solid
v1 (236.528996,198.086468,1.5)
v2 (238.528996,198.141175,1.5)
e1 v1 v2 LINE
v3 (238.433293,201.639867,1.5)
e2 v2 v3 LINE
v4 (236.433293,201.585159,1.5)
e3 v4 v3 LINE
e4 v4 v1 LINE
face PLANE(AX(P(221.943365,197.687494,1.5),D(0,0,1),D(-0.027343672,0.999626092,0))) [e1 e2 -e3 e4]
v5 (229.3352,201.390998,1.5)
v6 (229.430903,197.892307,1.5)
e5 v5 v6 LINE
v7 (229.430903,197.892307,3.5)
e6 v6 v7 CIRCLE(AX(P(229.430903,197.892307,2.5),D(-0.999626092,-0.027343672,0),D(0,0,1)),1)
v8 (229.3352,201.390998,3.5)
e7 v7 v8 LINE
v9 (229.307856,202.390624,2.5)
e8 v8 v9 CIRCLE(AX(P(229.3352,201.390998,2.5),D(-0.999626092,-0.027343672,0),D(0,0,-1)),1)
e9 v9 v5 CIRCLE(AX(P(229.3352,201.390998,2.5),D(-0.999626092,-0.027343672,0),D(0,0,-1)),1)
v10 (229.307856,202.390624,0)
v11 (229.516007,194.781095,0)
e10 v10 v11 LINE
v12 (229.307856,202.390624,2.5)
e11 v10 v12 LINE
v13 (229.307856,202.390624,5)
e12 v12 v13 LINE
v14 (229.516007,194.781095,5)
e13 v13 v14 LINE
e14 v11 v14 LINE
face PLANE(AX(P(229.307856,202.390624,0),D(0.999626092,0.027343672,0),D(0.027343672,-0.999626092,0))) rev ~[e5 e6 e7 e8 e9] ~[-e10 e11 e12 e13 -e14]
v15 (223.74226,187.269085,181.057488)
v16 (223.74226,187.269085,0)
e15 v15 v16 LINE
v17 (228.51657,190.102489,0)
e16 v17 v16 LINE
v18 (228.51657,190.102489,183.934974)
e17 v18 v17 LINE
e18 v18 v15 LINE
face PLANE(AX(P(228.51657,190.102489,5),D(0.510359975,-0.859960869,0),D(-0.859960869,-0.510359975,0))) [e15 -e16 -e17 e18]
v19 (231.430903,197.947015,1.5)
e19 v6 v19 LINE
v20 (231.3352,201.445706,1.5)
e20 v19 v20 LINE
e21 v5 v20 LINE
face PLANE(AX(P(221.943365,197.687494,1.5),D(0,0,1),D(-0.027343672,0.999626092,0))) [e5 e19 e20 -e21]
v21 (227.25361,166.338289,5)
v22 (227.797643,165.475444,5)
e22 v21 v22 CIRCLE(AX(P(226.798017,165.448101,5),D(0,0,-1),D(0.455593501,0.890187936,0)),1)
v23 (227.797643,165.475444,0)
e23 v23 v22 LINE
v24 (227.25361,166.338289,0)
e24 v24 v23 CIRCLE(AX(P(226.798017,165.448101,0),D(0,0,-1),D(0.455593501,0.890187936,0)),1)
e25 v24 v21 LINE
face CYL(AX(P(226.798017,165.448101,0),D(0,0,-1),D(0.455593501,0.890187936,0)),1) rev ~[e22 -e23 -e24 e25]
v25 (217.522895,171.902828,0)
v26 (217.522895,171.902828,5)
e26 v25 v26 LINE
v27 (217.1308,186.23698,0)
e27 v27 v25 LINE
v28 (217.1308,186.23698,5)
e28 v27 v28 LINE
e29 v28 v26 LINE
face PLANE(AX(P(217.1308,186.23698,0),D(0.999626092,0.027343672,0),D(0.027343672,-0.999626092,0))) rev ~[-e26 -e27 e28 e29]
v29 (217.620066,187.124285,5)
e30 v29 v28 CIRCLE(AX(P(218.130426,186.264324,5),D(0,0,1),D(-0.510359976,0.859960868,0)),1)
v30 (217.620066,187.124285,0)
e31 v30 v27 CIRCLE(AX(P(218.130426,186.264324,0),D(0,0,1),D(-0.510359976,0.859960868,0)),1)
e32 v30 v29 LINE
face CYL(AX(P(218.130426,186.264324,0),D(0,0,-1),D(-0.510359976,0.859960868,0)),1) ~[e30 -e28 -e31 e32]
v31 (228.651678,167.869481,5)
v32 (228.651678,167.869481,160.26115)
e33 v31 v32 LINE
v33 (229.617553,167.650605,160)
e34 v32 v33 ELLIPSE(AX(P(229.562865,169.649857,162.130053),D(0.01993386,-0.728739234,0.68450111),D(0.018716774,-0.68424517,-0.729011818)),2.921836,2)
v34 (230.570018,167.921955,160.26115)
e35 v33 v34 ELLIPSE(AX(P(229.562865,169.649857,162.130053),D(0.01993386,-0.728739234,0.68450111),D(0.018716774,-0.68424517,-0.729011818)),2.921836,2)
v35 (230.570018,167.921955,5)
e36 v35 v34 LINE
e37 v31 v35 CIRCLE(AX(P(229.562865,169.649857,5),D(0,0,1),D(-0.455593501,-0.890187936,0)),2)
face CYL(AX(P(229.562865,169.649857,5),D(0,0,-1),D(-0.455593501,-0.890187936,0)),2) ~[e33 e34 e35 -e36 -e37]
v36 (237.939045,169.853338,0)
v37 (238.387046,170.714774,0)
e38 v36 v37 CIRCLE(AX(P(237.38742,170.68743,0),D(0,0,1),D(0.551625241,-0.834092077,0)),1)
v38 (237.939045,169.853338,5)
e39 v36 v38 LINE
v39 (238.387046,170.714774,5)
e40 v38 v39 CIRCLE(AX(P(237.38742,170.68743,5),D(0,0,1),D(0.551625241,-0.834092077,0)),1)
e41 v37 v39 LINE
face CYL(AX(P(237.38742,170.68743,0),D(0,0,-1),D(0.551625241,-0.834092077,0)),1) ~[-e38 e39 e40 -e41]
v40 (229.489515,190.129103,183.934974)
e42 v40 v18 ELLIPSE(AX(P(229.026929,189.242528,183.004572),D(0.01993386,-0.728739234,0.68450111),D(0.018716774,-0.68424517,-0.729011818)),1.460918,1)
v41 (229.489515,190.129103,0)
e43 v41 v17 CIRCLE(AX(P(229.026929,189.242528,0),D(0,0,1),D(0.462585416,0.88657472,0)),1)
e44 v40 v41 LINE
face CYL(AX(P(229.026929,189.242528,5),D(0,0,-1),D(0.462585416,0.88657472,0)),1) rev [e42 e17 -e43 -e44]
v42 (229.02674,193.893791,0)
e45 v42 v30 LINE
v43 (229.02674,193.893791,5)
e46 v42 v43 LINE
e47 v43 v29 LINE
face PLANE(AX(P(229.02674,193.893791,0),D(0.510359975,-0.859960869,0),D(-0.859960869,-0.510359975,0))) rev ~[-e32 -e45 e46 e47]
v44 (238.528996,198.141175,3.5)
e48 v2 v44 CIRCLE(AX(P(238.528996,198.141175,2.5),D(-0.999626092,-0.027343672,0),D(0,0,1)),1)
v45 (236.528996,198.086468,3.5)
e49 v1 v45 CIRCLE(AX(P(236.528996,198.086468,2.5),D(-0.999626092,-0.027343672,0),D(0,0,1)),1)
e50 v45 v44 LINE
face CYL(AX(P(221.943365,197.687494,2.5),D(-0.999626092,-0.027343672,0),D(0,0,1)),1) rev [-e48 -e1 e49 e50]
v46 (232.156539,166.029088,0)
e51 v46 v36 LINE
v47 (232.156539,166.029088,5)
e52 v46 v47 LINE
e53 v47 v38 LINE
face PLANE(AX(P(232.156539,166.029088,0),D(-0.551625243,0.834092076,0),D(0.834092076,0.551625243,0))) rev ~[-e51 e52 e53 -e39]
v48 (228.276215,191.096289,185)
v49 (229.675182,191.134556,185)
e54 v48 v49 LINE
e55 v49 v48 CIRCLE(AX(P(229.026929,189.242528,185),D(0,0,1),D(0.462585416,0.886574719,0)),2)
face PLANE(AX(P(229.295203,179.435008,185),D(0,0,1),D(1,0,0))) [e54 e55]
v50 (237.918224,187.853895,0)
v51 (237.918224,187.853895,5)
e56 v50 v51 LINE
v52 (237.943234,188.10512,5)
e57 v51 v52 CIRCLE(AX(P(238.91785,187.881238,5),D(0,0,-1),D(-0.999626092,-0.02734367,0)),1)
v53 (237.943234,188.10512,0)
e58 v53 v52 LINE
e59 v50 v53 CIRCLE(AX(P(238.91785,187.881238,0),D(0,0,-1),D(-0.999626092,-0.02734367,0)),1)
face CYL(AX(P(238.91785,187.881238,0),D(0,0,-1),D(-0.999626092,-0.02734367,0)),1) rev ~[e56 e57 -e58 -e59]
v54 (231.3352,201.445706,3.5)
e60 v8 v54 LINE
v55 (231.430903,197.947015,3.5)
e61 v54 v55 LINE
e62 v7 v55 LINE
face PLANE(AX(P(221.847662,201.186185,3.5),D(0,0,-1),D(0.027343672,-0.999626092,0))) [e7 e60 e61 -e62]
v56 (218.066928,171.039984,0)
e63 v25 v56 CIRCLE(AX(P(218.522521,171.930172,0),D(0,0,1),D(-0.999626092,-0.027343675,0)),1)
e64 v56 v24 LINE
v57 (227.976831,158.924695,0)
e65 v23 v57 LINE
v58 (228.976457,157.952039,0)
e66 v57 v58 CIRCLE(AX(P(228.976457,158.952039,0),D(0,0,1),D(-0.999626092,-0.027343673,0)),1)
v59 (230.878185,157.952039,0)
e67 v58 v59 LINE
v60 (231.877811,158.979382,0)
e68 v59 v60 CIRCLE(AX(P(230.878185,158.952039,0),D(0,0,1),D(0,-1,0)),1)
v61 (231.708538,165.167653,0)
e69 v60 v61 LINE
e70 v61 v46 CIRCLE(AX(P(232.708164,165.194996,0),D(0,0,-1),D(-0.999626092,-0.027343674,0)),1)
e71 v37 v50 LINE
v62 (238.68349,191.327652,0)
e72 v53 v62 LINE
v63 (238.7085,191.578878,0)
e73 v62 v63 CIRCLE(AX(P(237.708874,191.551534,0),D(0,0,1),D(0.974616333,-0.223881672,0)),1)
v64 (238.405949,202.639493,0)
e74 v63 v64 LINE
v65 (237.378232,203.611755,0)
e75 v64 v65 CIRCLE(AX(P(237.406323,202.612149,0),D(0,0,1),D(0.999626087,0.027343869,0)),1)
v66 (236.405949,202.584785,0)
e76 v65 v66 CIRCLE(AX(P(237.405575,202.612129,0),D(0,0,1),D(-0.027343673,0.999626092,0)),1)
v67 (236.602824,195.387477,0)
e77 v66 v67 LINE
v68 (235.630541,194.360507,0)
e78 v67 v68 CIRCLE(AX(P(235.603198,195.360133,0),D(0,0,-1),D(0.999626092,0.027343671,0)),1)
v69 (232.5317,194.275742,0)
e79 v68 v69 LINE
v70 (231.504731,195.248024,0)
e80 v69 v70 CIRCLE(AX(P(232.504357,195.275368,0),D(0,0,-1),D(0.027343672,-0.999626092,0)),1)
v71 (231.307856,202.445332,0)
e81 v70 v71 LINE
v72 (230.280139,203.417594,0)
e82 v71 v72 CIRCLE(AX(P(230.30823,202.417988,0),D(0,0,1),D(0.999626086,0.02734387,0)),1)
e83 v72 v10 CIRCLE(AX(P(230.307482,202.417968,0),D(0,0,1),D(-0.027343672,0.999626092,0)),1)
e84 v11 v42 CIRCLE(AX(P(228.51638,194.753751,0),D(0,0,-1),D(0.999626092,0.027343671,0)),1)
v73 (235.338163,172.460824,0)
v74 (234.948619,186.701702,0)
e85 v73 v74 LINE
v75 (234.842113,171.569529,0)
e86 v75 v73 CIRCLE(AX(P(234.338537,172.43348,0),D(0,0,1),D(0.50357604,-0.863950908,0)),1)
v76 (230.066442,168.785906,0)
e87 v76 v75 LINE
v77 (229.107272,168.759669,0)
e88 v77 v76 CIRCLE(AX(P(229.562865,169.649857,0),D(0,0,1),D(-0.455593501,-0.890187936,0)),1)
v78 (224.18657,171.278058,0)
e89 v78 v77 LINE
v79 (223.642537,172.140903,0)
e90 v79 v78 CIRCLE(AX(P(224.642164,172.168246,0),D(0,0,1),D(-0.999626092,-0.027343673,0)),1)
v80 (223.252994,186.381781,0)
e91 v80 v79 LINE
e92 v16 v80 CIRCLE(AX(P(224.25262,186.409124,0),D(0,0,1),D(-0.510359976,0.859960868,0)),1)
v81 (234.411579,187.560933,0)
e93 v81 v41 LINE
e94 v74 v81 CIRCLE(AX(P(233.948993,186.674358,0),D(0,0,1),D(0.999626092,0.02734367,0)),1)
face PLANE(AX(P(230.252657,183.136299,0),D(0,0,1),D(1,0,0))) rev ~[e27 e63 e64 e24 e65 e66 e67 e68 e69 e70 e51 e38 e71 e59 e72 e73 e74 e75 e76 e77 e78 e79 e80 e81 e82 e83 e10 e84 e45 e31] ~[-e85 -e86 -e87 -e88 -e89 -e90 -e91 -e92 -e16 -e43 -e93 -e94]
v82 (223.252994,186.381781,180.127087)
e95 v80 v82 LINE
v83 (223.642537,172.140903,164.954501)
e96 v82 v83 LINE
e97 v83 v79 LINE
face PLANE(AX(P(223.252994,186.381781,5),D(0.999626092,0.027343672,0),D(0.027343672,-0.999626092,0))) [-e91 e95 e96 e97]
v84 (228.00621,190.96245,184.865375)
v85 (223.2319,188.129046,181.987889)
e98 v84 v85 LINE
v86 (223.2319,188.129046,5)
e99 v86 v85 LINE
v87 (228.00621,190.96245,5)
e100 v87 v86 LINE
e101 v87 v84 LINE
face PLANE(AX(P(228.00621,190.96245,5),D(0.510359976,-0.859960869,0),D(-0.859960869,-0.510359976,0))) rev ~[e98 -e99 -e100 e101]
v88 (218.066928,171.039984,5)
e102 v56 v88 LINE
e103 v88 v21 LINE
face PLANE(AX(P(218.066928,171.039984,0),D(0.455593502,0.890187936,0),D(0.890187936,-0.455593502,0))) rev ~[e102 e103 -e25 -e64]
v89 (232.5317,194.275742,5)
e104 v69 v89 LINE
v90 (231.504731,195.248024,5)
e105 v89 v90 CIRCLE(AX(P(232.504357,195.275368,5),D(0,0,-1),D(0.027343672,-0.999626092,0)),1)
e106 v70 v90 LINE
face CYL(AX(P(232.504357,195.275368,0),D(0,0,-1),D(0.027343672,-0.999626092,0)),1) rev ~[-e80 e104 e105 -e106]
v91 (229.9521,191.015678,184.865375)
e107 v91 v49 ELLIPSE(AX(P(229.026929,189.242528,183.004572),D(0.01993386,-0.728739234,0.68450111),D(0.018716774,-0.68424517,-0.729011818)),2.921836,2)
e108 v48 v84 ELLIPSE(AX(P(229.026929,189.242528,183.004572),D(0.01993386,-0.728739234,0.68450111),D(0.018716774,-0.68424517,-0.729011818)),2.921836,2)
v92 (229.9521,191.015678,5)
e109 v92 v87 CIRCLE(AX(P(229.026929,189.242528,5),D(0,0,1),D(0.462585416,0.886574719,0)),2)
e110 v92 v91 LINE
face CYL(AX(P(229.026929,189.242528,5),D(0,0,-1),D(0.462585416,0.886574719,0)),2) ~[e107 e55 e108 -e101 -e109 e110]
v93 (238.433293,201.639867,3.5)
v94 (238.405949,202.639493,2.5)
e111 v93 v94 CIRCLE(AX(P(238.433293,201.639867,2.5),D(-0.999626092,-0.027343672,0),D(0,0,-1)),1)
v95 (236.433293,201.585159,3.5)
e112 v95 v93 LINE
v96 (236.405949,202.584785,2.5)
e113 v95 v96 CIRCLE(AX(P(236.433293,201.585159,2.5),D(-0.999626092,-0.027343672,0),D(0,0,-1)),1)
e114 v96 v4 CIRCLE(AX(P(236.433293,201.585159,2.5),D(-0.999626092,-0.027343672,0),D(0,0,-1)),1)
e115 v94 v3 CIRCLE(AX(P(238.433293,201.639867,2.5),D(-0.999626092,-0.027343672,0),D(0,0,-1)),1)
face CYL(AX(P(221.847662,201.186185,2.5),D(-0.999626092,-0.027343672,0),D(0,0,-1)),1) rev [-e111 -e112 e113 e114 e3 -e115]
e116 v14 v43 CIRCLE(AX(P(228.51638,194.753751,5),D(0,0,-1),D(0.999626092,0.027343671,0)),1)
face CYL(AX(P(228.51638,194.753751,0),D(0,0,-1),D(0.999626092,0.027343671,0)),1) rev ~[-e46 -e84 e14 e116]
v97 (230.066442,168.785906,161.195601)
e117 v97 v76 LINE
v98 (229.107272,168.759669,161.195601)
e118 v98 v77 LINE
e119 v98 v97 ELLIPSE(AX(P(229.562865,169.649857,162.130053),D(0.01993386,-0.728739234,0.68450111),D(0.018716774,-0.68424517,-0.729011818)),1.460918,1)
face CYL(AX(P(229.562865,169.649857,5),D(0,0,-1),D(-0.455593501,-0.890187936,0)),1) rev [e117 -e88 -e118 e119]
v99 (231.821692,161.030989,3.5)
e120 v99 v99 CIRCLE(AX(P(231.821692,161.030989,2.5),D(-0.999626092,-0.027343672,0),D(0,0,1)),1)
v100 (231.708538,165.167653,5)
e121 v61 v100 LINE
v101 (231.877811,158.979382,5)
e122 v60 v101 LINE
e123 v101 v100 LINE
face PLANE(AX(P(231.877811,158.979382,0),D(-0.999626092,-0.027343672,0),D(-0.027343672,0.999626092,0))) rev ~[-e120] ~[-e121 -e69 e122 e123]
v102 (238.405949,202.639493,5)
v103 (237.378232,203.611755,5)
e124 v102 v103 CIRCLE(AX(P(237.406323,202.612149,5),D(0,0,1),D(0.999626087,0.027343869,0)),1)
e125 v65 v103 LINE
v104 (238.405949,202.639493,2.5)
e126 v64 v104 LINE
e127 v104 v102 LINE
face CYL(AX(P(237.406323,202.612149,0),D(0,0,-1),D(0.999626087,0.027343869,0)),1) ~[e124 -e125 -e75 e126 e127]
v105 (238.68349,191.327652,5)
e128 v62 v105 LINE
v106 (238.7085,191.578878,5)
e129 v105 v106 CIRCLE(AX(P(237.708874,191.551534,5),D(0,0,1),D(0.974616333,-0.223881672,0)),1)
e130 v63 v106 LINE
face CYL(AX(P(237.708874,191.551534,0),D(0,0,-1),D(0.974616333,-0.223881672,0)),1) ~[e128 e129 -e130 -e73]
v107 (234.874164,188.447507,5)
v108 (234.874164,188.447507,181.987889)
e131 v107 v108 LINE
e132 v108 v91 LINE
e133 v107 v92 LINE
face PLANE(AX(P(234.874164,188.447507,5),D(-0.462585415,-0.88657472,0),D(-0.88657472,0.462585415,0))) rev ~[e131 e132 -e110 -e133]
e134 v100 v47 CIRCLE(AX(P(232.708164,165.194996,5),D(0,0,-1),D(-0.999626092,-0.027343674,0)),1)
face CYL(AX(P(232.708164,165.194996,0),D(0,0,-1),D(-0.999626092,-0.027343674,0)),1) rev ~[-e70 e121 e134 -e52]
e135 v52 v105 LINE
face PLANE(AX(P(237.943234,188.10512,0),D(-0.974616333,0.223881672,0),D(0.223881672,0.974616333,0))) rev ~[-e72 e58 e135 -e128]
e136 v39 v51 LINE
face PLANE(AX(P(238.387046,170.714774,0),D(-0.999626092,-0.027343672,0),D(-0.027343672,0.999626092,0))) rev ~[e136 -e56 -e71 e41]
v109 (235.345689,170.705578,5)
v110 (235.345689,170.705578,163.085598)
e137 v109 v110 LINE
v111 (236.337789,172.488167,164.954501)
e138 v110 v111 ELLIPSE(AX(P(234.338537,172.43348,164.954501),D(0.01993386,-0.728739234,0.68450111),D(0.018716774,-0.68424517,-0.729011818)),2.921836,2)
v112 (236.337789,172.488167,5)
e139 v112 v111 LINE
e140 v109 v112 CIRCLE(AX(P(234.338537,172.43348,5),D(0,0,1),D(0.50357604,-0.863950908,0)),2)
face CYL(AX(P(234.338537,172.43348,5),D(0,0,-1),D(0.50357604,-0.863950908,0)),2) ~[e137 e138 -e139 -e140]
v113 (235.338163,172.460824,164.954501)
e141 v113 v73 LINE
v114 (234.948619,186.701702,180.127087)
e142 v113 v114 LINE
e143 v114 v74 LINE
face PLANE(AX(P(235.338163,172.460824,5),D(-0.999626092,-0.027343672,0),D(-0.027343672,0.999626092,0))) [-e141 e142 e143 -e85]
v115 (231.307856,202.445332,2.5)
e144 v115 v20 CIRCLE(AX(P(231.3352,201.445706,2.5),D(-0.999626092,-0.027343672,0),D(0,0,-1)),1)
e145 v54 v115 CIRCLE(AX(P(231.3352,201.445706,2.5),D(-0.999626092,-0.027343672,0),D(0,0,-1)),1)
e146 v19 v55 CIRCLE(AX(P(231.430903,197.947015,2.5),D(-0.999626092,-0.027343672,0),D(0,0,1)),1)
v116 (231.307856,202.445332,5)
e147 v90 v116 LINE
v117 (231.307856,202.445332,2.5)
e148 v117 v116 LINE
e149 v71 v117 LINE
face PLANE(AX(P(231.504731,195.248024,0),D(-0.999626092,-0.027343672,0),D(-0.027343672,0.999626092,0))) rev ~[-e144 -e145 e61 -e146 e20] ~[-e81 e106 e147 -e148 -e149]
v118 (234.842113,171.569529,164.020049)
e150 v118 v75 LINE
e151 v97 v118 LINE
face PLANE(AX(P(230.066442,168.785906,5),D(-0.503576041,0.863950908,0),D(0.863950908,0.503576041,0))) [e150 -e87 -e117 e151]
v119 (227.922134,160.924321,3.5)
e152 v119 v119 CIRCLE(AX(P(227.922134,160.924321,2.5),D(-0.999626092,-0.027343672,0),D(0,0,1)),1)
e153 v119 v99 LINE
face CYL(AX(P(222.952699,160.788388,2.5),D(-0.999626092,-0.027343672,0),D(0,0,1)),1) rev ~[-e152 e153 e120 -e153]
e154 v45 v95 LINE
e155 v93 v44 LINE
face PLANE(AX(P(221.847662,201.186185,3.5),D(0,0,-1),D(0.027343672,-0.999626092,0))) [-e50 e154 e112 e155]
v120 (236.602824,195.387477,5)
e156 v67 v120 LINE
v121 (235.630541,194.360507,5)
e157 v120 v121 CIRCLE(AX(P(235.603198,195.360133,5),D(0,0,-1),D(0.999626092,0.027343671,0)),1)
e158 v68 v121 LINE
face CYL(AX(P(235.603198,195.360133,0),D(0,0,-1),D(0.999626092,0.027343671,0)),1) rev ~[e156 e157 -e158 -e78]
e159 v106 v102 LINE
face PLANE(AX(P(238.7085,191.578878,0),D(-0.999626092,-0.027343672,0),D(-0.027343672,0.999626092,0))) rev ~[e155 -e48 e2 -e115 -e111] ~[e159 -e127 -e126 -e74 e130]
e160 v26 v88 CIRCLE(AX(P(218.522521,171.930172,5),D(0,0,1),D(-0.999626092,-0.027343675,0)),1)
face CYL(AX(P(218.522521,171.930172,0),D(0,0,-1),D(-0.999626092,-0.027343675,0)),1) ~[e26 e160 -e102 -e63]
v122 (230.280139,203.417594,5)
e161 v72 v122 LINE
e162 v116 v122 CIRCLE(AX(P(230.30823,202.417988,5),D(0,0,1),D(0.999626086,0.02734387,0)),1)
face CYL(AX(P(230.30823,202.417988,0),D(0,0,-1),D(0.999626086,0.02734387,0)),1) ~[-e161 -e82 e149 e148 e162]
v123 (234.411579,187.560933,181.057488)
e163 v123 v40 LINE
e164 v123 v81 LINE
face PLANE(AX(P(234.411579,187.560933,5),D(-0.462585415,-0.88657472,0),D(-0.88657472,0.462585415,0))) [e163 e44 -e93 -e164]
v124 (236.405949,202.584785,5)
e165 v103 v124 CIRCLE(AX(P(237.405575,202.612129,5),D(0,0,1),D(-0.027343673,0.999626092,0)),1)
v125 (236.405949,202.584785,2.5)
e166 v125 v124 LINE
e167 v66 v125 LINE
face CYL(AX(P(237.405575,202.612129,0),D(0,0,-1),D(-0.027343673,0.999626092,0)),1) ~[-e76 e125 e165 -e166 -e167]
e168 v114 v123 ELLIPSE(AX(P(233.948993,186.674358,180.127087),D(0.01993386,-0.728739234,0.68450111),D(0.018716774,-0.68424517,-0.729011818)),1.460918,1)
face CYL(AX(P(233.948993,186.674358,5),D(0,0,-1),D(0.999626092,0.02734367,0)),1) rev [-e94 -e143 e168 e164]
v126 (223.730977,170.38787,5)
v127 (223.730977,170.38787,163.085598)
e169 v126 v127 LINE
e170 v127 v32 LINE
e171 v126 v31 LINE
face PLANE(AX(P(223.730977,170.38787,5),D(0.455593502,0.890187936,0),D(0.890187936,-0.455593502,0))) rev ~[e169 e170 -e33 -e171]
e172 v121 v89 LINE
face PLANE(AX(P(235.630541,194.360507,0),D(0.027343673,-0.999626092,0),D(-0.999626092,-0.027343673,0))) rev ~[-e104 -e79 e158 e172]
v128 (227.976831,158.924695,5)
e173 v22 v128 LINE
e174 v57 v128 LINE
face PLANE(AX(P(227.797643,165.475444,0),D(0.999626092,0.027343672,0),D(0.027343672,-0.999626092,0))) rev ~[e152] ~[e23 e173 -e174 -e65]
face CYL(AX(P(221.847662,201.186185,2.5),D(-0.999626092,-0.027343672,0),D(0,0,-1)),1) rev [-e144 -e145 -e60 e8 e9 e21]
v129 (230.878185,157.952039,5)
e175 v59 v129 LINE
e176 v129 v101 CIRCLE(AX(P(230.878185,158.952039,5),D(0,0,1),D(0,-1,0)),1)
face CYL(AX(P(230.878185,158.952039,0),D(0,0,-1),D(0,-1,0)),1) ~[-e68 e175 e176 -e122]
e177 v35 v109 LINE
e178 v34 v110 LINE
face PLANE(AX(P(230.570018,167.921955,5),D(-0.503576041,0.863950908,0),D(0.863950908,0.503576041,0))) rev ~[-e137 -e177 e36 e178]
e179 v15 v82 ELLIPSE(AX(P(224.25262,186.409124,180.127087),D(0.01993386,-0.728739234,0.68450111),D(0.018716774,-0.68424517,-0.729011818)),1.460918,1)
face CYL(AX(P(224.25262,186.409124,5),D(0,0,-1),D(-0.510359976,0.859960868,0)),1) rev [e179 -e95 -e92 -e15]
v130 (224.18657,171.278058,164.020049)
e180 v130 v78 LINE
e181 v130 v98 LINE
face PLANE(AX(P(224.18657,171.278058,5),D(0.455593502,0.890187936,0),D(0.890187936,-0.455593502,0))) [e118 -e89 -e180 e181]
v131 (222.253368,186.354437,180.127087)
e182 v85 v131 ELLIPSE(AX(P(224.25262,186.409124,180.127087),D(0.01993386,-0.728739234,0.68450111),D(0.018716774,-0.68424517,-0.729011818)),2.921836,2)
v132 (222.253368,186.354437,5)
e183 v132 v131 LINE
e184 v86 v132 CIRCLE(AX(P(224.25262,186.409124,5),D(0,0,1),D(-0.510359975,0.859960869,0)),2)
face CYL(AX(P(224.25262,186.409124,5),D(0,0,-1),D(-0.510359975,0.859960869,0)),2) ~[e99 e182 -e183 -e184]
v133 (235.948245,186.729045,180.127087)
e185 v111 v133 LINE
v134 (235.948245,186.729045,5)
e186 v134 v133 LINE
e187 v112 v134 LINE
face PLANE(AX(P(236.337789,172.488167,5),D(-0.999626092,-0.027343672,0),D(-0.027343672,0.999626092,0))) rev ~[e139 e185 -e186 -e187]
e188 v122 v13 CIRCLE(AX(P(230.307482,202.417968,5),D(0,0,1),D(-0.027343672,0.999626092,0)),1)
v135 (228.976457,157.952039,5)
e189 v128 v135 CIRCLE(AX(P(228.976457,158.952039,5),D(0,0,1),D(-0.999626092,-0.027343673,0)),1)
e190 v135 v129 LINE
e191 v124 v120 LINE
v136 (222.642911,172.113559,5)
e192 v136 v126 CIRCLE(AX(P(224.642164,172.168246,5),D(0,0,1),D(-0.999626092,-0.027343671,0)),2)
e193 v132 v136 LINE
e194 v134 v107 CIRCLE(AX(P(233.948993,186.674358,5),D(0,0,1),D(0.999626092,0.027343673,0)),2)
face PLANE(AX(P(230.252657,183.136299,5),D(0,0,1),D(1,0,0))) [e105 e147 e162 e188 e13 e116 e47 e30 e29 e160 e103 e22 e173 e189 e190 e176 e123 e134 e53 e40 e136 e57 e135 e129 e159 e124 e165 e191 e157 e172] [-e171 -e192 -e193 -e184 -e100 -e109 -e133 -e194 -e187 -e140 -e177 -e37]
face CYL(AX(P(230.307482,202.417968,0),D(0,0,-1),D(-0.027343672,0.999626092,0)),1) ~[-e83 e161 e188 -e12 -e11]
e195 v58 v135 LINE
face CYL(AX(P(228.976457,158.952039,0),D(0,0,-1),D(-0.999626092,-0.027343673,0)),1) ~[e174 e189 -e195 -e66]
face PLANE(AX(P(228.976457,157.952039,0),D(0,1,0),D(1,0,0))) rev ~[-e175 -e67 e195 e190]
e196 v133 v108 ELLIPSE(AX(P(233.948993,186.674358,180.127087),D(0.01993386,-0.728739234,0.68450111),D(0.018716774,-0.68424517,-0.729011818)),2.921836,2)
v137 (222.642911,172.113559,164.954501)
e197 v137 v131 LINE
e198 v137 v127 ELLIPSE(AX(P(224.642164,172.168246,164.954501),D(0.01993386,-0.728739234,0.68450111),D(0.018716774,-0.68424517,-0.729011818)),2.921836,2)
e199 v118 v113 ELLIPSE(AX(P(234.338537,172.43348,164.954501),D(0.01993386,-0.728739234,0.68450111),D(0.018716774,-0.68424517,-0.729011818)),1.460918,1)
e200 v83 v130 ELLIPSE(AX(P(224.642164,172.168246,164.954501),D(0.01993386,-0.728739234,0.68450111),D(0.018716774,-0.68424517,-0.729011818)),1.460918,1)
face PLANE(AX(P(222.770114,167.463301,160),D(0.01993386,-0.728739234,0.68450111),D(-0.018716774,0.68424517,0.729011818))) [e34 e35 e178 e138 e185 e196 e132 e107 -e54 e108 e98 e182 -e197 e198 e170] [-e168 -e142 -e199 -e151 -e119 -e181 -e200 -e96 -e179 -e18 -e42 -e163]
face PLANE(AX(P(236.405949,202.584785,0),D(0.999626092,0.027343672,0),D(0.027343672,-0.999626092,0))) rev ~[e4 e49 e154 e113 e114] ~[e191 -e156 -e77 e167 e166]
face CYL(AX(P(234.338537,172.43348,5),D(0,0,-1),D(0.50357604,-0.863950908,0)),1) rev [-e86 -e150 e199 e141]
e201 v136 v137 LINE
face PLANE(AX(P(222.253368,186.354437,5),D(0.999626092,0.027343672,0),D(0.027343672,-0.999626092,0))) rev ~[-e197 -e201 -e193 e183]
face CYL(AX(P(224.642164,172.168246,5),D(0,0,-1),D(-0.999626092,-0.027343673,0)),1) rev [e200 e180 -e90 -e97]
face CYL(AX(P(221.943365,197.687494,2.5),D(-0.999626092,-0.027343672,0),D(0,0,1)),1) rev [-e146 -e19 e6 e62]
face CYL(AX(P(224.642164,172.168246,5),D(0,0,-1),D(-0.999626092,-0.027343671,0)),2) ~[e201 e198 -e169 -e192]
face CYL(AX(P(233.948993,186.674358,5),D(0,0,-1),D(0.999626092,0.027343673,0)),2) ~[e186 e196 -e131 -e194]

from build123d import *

# Parameters (mm, degrees)
BOSS_EXTRUDE1_DEPTH = 5
BOSS_EXTRUDE2_DEPTH = 180
SKETCH3_R           = 1
CUT_EXTRUDE1_DEPTH  = 180


with BuildPart() as part:
    # Sketch1 → Boss-Extrude1 (new body)
    with BuildSketch(Plane.XY):
        with BuildLine():
            Line((217.13080024, 186.236980413), (217.522895205, 171.902828405))
            ThreePointArc((217.522895205, 171.902828405), (217.676624689, 171.396825166), (218.066927795, 171.039984141))
            Line((218.066927795, 171.039984141), (227.253610039, 166.338288505))
            ThreePointArc((227.253610039, 166.338288505), (227.643913146, 165.981447481), (227.79764263, 165.475444242))
            Line((227.79764263, 165.475444242), (227.976831168, 158.924695096))
            ThreePointArc((227.976831168, 158.924695096), (228.279084932, 158.235329737), (228.97645726, 157.952038769))
            Line((228.97645726, 157.952038769), (230.8781853, 157.952038769))
            ThreePointArc((230.8781853, 157.952038769), (231.594894332, 158.254666441), (231.877811392, 158.979382441))
            Line((231.877811392, 158.979382441), (231.708538067, 165.167652598))
            ThreePointArc((231.708538067, 165.167652598), (231.820970232, 165.656392994), (232.156538916, 166.029088346))
            Line((232.156538916, 166.029088346), (237.939045309, 169.853338197))
            ThreePointArc((237.939045309, 169.853338197), (238.274613993, 170.226033549), (238.387046158, 170.714773945))
            Line((238.387046158, 170.714773945), (237.918224361, 187.853894574))
            ThreePointArc((237.918224361, 187.853894574), (237.922769134, 187.980299684), (237.94323412, 188.105119919))
            Line((237.94323412, 188.105119919), (238.683490474, 191.327652279))
            ThreePointArc((238.683490474, 191.327652279), (238.70395546, 191.452472514), (238.708500233, 191.578877624))
            Line((238.708500233, 191.578877624), (238.40594927, 202.639492732))
            ThreePointArc((238.40594927, 202.639492732), (238.093830671, 203.338326344), (237.37823169, 203.611754696))
            ThreePointArc((237.37823169, 203.611754696), (236.679398078, 203.299636096), (236.40594927, 202.584784932))
            Line((236.40594927, 202.584784932), (236.602823712, 195.38747707))
            ThreePointArc((236.602823712, 195.38747707), (236.329374904, 194.672625906), (235.630541293, 194.360507306))
            Line((235.630541293, 194.360507306), (232.531700408, 194.275741921))
            ThreePointArc((232.531700408, 194.275741921), (231.816849243, 194.549190729), (231.504730643, 195.248024341))
            Line((231.504730643, 195.248024341), (231.307856202, 202.445332202))
            ThreePointArc((231.307856202, 202.445332202), (230.995737602, 203.144165814), (230.280138621, 203.417594166))
            ThreePointArc((230.280138621, 203.417594166), (229.581305009, 203.105475566), (229.307856202, 202.390624402))
            Line((229.307856202, 202.390624402), (229.516006509, 194.781095054))
            ThreePointArc((229.516006509, 194.781095054), (229.392075465, 194.270886823), (229.026740392, 193.893790513))
            Line((229.026740392, 193.893790513), (217.620066357, 187.124284954))
            ThreePointArc((217.620066357, 187.124284954), (217.254731284, 186.747188644), (217.13080024, 186.236980413))
        make_face()
        with BuildLine():
            Line((228.516569513, 190.102489168), (223.742260028, 187.269085277))
            ThreePointArc((223.742260028, 187.269085277), (223.376924955, 186.891988967), (223.252993911, 186.381780736))
            Line((223.252993911, 186.381780736), (223.642537472, 172.14090257))
            ThreePointArc((223.642537472, 172.14090257), (223.796266956, 171.634899331), (224.186570063, 171.278058307))
            Line((224.186570063, 171.278058307), (229.107271966, 168.759668963))
            ThreePointArc((229.107271966, 168.759668963), (229.59020914, 168.650230807), (230.066441509, 168.785905991))
            Line((230.066441509, 168.785905991), (234.842112696, 171.569528957))
            ThreePointArc((234.842112696, 171.569528957), (235.212324771, 171.947173038), (235.338162748, 172.460823537))
            Line((235.338162748, 172.460823537), (234.948619186, 186.701701703))
            ThreePointArc((234.948619186, 186.701701703), (234.796981963, 187.204372068), (234.41157851, 187.560932751))
            Line((234.41157851, 187.560932751), (229.489514903, 190.12910302))
            ThreePointArc((229.489514903, 190.12910302), (228.999585816, 190.242154392), (228.516569513, 190.102489168))
        make_face(mode=Mode.SUBTRACT)
    extrude(amount=BOSS_EXTRUDE1_DEPTH)

    # Sketch2 → Boss-Extrude2 (add)
    with BuildSketch(Plane.XY.offset(5)):
        with BuildLine():
            Line((228.006209537, 190.962450037), (223.231900052, 188.129046145))
            ThreePointArc((223.231900052, 188.129046145), (222.501229906, 187.374853526), (222.253367819, 186.354437063))
            Line((222.253367819, 186.354437063), (222.642911381, 172.113558898))
            ThreePointArc((222.642911381, 172.113558898), (222.950370347, 171.10155242), (223.730976561, 170.387870371))
            Line((223.730976561, 170.387870371), (228.651678464, 167.869481027))
            ThreePointArc((228.651678464, 167.869481027), (229.617552813, 167.650604715), (230.57001755, 167.921955083))
            Line((230.57001755, 167.921955083), (235.345688737, 170.705578049))
            ThreePointArc((235.345688737, 170.705578049), (236.086112886, 171.460866211), (236.337788839, 172.48816721))
            Line((236.337788839, 172.48816721), (235.948245278, 186.729045376))
            ThreePointArc((235.948245278, 186.729045376), (235.644970831, 187.734386104), (234.874163925, 188.44750747))
            Line((234.874163925, 188.44750747), (229.952100319, 191.015677739))
            ThreePointArc((229.952100319, 191.015677739), (228.972242143, 191.241780484), (228.006209537, 190.962450037))
        make_face()
        with BuildLine():
            Line((223.252993911, 186.381780736), (223.642537472, 172.14090257))
            ThreePointArc((223.642537472, 172.14090257), (223.796266956, 171.634899331), (224.186570063, 171.278058307))
            Line((224.186570063, 171.278058307), (229.107271966, 168.759668963))
            ThreePointArc((229.107271966, 168.759668963), (229.59020914, 168.650230807), (230.066441509, 168.785905991))
            Line((230.066441509, 168.785905991), (234.842112696, 171.569528957))
            ThreePointArc((234.842112696, 171.569528957), (235.212324771, 171.947173038), (235.338162748, 172.460823537))
            Line((235.338162748, 172.460823537), (234.948619186, 186.701701703))
            ThreePointArc((234.948619186, 186.701701703), (234.796981963, 187.204372068), (234.41157851, 187.560932751))
            Line((234.41157851, 187.560932751), (229.489514903, 190.12910302))
            ThreePointArc((229.489514903, 190.12910302), (228.999585816, 190.242154392), (228.516569513, 190.102489168))
            Line((228.516569513, 190.102489168), (223.742260028, 187.269085277))
            ThreePointArc((223.742260028, 187.269085277), (223.376924955, 186.891988967), (223.252993911, 186.381780736))
        make_face(mode=Mode.SUBTRACT)
    extrude(amount=BOSS_EXTRUDE2_DEPTH)

    # Sketch3 → Cut-Extrude1 (cut)
    with BuildSketch(Plane(origin=(227.180903608, 6.214283783, 0), x_dir=(0, 0, 1), z_dir=(-0.999626092, -0.027343672, 0))):
        with Locations((2.5, 154.631921977)):
            Circle(SKETCH3_R)
        Polygon((185, 184.782926083), (185, 161.309331644), (160, 161.309331644), align=None)
        with BuildLine():
            Line((3.5, 195.044829999), (3.5, 191.544829999))
            ThreePointArc((3.5, 191.544829999), (2.5, 190.544829999), (1.5, 191.544829999))
            Line((1.5, 191.544829999), (1.5, 195.044829999))
            ThreePointArc((1.5, 195.044829999), (2.5, 196.044829999), (3.5, 195.044829999))
        make_face()
    extrude(amount=-CUT_EXTRUDE1_DEPTH, mode=Mode.SUBTRACT)


solid = part.part
